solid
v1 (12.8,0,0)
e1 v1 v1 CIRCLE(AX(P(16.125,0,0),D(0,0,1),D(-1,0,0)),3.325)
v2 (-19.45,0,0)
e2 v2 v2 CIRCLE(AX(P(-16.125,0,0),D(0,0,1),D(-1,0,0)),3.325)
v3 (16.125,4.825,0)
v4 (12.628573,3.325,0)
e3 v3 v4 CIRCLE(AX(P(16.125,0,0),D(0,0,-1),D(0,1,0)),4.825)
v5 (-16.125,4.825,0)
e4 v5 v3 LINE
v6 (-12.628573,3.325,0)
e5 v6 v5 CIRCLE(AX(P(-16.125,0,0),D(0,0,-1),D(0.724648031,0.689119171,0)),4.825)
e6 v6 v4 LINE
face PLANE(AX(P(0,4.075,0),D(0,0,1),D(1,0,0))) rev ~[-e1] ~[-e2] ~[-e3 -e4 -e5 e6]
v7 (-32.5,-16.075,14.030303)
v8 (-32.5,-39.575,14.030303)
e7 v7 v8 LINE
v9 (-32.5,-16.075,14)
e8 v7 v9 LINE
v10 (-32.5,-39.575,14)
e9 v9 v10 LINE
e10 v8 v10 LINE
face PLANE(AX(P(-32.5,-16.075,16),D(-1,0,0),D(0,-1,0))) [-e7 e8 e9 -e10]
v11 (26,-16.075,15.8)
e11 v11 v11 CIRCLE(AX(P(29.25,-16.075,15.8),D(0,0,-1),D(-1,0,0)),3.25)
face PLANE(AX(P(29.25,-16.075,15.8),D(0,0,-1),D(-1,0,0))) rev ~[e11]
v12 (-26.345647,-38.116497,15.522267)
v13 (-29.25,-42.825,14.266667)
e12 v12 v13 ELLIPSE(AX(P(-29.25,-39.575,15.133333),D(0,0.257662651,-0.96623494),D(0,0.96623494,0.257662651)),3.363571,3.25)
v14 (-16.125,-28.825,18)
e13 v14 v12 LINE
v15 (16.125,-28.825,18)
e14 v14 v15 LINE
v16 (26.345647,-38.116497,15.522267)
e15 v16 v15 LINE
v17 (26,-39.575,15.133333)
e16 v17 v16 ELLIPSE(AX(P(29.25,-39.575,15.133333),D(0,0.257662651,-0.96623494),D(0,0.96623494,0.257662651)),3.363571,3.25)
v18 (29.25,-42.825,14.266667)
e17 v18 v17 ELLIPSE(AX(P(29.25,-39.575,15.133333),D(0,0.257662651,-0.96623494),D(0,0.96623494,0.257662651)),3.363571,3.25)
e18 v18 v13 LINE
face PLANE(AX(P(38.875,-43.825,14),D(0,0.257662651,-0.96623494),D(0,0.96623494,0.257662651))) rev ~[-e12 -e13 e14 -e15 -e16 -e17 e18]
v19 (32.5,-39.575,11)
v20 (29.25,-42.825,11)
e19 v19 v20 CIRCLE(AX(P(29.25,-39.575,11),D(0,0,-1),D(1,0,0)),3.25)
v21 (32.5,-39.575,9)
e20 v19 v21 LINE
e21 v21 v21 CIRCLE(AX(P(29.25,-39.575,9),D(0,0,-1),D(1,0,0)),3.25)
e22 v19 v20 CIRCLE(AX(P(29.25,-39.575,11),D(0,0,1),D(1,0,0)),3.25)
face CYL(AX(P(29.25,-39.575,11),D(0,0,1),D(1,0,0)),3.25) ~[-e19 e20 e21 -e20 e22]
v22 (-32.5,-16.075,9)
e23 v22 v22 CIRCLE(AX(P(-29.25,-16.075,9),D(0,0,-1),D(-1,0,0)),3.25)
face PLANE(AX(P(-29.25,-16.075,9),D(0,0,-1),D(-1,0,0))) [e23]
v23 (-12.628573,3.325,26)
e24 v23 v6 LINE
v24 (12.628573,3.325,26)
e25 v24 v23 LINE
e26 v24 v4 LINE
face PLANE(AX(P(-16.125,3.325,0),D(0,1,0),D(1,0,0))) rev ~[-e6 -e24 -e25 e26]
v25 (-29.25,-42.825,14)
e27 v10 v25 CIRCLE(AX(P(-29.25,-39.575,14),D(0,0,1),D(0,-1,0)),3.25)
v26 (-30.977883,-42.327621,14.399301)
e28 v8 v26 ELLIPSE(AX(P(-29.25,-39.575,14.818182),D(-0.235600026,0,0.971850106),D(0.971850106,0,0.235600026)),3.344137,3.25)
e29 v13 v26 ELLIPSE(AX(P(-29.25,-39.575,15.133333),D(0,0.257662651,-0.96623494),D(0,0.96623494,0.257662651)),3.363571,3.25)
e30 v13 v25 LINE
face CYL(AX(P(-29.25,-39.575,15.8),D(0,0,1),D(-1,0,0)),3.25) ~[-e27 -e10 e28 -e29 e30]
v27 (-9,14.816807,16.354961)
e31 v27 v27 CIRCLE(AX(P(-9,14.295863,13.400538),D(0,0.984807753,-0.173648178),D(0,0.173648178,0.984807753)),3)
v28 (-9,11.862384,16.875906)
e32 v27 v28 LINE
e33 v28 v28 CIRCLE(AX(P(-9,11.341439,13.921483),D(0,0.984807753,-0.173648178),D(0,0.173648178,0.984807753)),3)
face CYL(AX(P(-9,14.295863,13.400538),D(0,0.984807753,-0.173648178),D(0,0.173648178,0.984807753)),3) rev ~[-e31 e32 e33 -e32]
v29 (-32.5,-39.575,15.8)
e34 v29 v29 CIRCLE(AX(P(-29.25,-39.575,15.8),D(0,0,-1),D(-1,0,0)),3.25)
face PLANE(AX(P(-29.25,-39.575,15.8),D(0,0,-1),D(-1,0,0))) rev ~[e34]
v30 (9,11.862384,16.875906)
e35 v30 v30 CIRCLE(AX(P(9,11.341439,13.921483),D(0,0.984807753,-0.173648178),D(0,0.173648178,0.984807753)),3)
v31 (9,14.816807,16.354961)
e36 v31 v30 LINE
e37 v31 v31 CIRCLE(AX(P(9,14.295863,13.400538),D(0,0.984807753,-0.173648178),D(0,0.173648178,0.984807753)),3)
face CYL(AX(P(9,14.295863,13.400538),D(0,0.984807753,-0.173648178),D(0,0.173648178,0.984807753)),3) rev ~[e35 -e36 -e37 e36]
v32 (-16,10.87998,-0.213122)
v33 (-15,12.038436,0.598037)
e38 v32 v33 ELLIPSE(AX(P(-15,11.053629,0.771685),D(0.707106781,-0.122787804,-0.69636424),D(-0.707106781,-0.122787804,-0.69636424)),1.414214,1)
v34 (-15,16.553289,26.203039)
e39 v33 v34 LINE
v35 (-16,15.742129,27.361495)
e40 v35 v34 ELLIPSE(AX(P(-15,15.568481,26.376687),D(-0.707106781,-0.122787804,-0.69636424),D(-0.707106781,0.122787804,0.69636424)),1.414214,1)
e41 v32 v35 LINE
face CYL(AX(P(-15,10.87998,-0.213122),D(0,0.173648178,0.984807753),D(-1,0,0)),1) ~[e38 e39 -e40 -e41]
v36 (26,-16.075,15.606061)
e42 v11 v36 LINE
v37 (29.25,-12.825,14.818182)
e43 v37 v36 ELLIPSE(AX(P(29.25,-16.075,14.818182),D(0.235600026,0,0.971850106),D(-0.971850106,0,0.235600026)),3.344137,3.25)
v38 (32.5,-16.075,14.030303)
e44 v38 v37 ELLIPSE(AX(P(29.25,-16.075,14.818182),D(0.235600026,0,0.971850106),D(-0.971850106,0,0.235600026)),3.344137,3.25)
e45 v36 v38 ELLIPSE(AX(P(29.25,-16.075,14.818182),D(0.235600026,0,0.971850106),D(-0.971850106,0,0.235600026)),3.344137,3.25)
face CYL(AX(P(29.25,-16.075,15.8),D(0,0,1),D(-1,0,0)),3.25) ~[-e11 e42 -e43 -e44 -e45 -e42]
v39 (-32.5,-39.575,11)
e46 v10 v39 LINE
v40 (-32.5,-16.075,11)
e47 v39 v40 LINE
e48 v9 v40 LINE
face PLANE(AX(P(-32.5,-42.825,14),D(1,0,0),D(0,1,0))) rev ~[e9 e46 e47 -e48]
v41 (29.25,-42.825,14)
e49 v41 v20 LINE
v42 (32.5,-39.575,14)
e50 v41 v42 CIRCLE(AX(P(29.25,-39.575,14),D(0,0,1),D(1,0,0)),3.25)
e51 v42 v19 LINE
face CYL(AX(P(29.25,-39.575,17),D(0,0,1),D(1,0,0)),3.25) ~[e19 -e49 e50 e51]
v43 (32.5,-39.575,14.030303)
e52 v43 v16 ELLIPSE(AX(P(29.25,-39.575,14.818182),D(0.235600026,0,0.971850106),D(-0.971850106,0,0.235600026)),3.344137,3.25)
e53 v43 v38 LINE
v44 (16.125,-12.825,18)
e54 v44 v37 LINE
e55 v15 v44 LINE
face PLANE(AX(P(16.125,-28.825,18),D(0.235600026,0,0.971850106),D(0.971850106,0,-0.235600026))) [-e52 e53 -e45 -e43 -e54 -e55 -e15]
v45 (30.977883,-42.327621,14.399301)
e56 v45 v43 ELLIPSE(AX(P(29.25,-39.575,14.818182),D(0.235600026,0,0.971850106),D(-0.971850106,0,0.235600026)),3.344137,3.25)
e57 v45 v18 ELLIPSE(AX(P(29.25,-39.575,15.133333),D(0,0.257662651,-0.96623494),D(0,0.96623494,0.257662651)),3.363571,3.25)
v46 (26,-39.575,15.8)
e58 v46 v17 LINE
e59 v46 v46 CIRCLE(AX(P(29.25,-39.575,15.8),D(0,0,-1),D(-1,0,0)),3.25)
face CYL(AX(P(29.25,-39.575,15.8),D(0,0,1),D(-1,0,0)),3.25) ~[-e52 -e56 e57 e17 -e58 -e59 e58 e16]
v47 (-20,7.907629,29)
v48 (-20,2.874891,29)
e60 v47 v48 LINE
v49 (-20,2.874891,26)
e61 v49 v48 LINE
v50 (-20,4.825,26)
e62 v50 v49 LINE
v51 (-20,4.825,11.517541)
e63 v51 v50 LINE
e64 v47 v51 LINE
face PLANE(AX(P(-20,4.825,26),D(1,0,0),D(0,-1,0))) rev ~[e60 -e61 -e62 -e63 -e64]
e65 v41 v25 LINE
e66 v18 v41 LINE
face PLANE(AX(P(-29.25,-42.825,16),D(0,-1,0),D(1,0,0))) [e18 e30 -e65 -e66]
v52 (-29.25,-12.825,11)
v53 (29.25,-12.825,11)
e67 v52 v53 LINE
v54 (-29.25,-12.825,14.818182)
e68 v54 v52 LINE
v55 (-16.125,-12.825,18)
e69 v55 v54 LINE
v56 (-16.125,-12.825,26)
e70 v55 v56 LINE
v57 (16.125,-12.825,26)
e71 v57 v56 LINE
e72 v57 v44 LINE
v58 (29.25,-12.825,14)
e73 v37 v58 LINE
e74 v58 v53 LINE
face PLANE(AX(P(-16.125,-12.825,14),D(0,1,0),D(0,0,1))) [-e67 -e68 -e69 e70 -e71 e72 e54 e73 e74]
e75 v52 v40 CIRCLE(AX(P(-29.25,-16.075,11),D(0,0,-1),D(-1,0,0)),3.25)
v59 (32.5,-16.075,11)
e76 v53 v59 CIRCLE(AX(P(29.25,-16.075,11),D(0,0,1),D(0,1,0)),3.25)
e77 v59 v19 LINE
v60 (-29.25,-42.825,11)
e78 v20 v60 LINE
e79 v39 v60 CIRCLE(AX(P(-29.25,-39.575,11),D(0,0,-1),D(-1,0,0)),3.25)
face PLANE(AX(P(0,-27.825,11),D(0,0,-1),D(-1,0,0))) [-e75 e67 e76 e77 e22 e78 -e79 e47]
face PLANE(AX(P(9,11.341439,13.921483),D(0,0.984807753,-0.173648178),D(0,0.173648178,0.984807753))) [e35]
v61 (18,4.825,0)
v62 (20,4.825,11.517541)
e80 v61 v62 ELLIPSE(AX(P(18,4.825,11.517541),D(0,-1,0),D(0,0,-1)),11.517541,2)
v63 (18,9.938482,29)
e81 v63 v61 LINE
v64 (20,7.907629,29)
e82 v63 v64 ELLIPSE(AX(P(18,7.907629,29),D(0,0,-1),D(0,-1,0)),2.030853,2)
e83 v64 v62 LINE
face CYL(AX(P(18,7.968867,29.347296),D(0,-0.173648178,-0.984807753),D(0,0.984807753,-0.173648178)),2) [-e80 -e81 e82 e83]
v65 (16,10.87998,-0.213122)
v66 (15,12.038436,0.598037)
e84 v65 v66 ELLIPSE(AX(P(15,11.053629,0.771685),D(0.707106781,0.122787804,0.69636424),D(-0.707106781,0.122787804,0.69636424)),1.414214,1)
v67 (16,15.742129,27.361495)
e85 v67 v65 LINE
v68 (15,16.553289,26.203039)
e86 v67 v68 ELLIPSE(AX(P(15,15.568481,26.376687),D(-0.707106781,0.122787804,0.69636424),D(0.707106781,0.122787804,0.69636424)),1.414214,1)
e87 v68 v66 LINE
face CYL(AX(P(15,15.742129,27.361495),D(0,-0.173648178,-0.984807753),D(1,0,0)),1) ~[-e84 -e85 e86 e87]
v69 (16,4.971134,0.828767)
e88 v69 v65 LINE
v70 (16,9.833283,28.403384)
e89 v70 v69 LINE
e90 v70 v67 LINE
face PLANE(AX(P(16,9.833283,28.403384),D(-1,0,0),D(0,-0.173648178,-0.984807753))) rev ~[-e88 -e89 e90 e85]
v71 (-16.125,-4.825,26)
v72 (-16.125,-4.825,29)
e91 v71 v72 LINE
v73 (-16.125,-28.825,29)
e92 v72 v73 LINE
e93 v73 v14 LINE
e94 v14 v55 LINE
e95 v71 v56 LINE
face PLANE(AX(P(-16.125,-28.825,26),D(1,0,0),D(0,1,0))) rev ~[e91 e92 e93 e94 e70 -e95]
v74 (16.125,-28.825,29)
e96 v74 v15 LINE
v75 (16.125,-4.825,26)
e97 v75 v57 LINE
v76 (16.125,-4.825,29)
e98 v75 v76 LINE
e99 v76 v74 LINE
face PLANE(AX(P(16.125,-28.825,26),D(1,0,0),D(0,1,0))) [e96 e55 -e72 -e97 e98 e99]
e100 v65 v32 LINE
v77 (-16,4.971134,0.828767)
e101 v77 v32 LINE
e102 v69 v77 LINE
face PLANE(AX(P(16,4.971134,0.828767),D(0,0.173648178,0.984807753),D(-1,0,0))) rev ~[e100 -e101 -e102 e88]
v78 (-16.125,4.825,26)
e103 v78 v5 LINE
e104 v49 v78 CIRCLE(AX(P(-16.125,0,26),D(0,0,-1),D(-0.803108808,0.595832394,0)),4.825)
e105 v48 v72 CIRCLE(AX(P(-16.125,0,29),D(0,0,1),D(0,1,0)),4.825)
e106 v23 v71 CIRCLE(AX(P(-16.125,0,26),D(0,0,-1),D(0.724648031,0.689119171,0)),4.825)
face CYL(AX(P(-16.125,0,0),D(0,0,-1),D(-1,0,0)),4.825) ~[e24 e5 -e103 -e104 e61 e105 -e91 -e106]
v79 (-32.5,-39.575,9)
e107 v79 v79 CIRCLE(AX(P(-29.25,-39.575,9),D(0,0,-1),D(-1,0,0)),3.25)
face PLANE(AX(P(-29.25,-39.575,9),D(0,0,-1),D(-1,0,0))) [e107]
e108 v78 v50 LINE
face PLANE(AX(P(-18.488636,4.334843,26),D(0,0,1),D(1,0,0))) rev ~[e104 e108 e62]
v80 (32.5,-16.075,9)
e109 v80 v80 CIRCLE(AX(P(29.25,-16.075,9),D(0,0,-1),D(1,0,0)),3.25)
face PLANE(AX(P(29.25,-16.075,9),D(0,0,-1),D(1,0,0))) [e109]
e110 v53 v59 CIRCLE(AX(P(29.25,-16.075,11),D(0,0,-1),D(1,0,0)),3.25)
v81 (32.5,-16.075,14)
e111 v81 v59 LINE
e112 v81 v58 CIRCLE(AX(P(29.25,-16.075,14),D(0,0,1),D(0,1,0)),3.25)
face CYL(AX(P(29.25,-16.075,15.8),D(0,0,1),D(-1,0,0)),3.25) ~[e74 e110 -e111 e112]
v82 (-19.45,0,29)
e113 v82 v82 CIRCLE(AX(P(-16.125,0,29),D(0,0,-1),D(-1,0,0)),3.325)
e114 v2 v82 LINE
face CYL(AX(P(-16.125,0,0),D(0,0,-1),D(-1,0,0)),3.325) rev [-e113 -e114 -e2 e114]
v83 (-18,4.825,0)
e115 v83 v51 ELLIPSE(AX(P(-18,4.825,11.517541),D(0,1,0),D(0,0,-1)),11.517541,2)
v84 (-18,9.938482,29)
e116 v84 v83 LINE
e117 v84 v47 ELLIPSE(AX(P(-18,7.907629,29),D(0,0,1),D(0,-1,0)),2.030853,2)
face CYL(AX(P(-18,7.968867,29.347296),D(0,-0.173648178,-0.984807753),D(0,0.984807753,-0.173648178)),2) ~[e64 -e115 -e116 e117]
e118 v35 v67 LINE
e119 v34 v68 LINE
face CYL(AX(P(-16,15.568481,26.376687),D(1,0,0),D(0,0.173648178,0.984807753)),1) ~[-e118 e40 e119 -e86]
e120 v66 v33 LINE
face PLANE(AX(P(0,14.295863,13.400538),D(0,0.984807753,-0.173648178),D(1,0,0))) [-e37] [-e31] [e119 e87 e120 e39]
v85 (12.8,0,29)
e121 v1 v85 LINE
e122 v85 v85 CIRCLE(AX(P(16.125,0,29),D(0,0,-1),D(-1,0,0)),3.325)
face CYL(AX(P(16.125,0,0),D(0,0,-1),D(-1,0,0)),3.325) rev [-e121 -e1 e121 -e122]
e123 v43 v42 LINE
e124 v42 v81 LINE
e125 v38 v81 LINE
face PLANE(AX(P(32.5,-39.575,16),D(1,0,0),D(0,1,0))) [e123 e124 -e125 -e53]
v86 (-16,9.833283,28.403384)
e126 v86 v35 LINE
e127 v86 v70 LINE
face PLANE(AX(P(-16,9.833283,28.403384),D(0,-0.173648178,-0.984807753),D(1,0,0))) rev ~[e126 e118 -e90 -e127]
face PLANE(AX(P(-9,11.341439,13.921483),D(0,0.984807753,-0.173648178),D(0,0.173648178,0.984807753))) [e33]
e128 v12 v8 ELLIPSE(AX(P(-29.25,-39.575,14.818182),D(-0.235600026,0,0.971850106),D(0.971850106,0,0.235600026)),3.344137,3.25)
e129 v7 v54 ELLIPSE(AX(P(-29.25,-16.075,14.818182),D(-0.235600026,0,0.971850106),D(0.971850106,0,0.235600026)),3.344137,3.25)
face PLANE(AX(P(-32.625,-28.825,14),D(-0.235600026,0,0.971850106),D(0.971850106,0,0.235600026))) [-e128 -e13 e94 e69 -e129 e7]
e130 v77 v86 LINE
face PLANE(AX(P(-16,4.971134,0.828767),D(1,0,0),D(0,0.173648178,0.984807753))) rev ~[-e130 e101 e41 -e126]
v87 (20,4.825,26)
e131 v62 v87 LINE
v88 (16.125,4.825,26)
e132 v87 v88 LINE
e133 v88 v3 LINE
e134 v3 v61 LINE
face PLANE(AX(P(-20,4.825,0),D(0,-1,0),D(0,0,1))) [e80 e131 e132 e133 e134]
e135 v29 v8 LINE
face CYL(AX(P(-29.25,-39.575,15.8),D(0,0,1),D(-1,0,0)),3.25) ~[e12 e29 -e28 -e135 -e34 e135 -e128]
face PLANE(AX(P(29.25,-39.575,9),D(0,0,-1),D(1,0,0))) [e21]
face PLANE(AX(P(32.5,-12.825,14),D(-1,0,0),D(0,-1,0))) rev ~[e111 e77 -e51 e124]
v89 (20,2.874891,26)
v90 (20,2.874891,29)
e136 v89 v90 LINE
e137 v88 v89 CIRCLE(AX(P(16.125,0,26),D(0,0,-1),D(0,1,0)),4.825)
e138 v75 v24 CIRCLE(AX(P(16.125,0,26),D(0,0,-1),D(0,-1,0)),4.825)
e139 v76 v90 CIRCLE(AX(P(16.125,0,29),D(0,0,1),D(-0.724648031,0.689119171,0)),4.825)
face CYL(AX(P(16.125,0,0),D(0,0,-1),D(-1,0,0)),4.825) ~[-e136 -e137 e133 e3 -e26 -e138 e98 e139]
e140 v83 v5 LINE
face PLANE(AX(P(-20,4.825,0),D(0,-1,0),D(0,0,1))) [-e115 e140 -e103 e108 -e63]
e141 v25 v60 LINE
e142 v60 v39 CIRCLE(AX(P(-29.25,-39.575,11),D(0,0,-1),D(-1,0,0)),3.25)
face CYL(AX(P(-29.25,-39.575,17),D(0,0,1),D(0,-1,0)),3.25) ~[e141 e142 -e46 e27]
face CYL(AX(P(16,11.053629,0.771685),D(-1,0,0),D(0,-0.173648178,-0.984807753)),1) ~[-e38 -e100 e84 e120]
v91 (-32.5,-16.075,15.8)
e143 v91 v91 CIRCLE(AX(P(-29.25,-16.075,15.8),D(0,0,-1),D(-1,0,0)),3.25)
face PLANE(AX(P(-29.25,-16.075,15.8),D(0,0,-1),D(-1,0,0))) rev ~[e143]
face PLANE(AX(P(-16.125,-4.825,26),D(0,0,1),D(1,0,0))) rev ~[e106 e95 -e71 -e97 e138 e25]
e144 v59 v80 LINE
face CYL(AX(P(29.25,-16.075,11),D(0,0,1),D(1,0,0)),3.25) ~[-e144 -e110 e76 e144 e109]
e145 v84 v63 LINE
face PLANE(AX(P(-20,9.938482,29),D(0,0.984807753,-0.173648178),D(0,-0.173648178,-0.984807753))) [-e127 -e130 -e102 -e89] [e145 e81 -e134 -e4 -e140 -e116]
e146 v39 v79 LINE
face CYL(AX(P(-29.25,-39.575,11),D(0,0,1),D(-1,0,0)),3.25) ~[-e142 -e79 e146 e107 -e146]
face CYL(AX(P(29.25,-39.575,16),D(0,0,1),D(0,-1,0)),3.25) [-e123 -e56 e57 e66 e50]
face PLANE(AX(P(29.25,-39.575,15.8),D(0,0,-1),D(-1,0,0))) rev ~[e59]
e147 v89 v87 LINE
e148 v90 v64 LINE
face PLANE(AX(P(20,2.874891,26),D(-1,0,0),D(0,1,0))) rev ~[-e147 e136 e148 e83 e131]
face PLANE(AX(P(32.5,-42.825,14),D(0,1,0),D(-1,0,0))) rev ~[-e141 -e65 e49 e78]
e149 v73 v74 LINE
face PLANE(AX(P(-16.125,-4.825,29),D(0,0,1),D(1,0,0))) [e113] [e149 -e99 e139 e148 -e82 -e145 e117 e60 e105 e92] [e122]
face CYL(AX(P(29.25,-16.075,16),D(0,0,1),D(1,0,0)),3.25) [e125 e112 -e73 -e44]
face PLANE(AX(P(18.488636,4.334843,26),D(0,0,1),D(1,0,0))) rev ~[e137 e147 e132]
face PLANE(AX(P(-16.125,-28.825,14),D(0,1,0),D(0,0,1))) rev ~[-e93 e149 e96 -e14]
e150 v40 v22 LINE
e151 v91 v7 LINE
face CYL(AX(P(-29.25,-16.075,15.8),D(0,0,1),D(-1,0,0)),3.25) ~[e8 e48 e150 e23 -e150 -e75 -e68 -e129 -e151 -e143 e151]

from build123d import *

# Parameters (mm, degrees)
SKETCH_1_R               = 4.824999999999997
SKETCH_1_R_2             = 3.3250000000000033
EXTRUDE_1_DEPTH          = 29
SKETCH_1_R_3             = 4.825
SKETCH_1_R_4             = 3.3249999999999997
EXTRUDE_1_2_DEPTH        = 29
EXTRUDE_2_DEPTH          = 20
EXTRUDE_2_DEPTH_BACK     = 20
FILLET_2_R               = 2
EXTRUDE_11_DEPTH         = 29
EXTRUDE_13_DEPTH         = 7
FILLET_3_R               = 1
SKETCH_11_R              = 3.0000000000000013
SKETCH_11_R_2            = 2.999999999999999
CUT_EXTRUDE_1_DEPTH      = 3
EXTRUDE_START            = -3
EXTRUDE_14_DEPTH         = 3
SKETCH_13_W              = 32.25
SKETCH_13_H              = 3
EXTRUDE_15_DEPTH         = 24
SKETCH_14_W              = 32.25
SKETCH_14_H              = 16
EXTRUDE_16_DEPTH         = 12
EXTRUDE_17_DEPTH         = 3
SKETCH_16_R              = 3.250000000000001
SKETCH_16_R_2            = 3.2500000000000013
SKETCH_16_R_3            = 3.2499999999999982
EXTRUDE_18_DEPTH         = 2
CUT_EXTRUDE_START        = -6
SKETCH_17_W              = 68.56383691944288
SKETCH_17_H              = 32.56782253673537
CUT_EXTRUDE_2_DEPTH      = 6
SKETCH_18_W              = 4.000000000000002
SKETCH_18_H              = 16
EXTRUDE_19_DEPTH         = 16.5
SKETCH_19_W              = 4.000000000000002
SKETCH_19_H              = 16.000000000000007
EXTRUDE_20_DEPTH         = 16.5
CUT_EXTRUDE_4_DEPTH      = 17
EXTRUDE_21_DEPTH         = 15
CUT_EXTRUDE_5_DEPTH      = 25
CUT_EXTRUDE_5_DEPTH_BACK = 55.00000000000001
CUT_EXTRUDE_START_2      = -5
SKETCH_23_W              = 70.20398187811678
SKETCH_23_H              = 36.48154516810434
CUT_EXTRUDE_6_DEPTH      = 5
EXTRUDE_START_2          = -4.8
SKETCH_16_2_R            = 3.250000000000001
SKETCH_16_2_R_2          = 3.2500000000000013
SKETCH_16_2_R_3          = 3.2499999999999982
EXTRUDE_22_DEPTH         = 4.8


with BuildPart() as part:
    # Эскиз1 → Бобышка-Вытянуть1 (new body)
    with BuildSketch(Plane.XY):
        with Locations((16.125, 0)):
            Circle(SKETCH_1_R)
        with Locations((16.125, 0)):
            Circle(SKETCH_1_R_2, mode=Mode.SUBTRACT)
    extrude(amount=EXTRUDE_1_DEPTH)



with BuildPart() as body_2:
    # Эскиз1 → Extrude 1 2 (new body)
    with BuildSketch(Plane.XY):
        with Locations((-16.125, 0)):
            Circle(SKETCH_1_R_3)
        with Locations((-16.125, 0)):
            Circle(SKETCH_1_R_4, mode=Mode.SUBTRACT)
    extrude(amount=EXTRUDE_1_2_DEPTH)


with BuildPart() as body_3:
    # Эскиз4 → Бобышка-Вытянуть2 (new, two sides: drawn at the far end of the back side and taken through both)
    with BuildSketch(Plane(origin=(0, 0, 0), x_dir=(0, 0, -1), z_dir=(1, 0, 0)).offset(-EXTRUDE_2_DEPTH_BACK)):
        Polygon((-29, 4.824999999999997), (-29, 9.938482440545272), (-1.388e-14, 4.824999999999997), align=None)
    extrude(amount=EXTRUDE_2_DEPTH + EXTRUDE_2_DEPTH_BACK)

    # Скругление2
    fillet_2_edges = [body_3.edges().sort_by_distance(p)[0] for p in [
        (20, 7.381741220272634, 14.500000000000007),
        (-20, 7.381741220272634, 14.500000000000007),
    ]]
    fillet(fillet_2_edges, radius=FILLET_2_R)


with BuildPart() as part_1:
    add(part.part)

    add(body_2.part)  # Бобышка-Вытянуть11 merges body 2

    add(body_3.part)  # Бобышка-Вытянуть11 merges body 3
    # Эскиз10 → Бобышка-Вытянуть11 (add)
    with BuildSketch(Plane(origin=(0, 0, 0), x_dir=(-1, 0, 0), z_dir=(0, 0, -1))):
        Polygon((-16.125, 4.8249999999999975), (16.125, 4.824999999999997), (16.125, 3.3249999999999975), (-16.125, 3.3249999999999975), align=None)
    extrude(amount=-EXTRUDE_11_DEPTH)

    # Эскиз6 → Бобышка-Вытянуть13 (add)
    with BuildSketch(Plane(origin=(0, 4.6795084476460085, -0.8251235957731434), x_dir=(1, 0, 0), z_dir=(0, 0.9848077530122092, -0.17364817766692356))):
        Polygon((-16, -1.6794043064520388), (-16, -29.67940430645204), (16, -29.679404306452035), (16, -1.6794043064520352), align=None)
    extrude(amount=EXTRUDE_13_DEPTH)

    # Скругление3
    fillet_3_edges = [part_1.edges().sort_by_distance(p)[0] for p in [
        (0, 16.726937190786714, 27.18784662633631),
        (16, 14.295862703449783, 13.400538084165378),
        (0, 11.864788216112855, -0.38677045800554954),
        (-16, 14.295862703449785, 13.400538084165381),
    ]]
    fillet(fillet_3_edges, radius=FILLET_3_R)

    # Эскиз11 → Вырез-Вытянуть1 (cut)
    with BuildSketch(Plane(origin=(0, 11.57316271873147, -2.0406608394416086), x_dir=(1, 0, 0), z_dir=(0, 0.9848077530122092, -0.1736481776669236))):
        with Locations((-9.000000000000005, -15.679404306452042)):
            Circle(SKETCH_11_R)
        with Locations((8.999999999999998, -15.679404306452039)):
            Circle(SKETCH_11_R_2)
    extrude(amount=-CUT_EXTRUDE_1_DEPTH, mode=Mode.SUBTRACT)

    # Эскиз12 → Бобышка-Вытянуть14 (add)
    with BuildSketch(Plane.XY.offset(29).offset(EXTRUDE_START)):
        with BuildLine():
            Line((-16.125000000000018, 4.824999999999999), (-20, 4.824999999999997))
            Line((-20, 4.824999999999997), (-20, 2.874891302293008))
            ThreePointArc((-20, 2.874891302293009), (-18.29401757328477, 4.309986979885419), (-16.125000000000018, 4.824999999999999))
        make_face()
        with BuildLine():
            ThreePointArc((16.125000000000004, 4.824999999999996), (18.294017573284762, 4.30998697988542), (20, 2.8748913022930056))
            Line((20, 2.874891302293005), (20, 4.824999999999997))
            Line((20, 4.824999999999997), (16.125000000000004, 4.824999999999997))
        make_face()
        with BuildLine():
            ThreePointArc((-12.62857325259058, 3.3249999999999975), (-11.690828713276888, -1.9023012379746749), (-16.125000000000014, -4.824999999999999))
            Line((-16.125, -4.824999999999998), (16.125, -4.824999999999997))
            ThreePointArc((16.125000000000004, -4.824999999999996), (11.690828713276861, -1.9023012379746778), (12.628573252590584, 3.3249999999999975))
            Line((12.628573252590584, 3.3249999999999975), (-12.62857325259058, 3.3249999999999975))
        make_face()
    extrude(amount=EXTRUDE_14_DEPTH)

    # Эскиз13 → Бобышка-Вытянуть15 (add)
    with BuildSketch(Plane.XZ.offset(4.8249999999999975)):
        with Locations((0, 27.500000000000004)):
            Rectangle(SKETCH_13_W, SKETCH_13_H)
    extrude(amount=EXTRUDE_15_DEPTH)



with BuildPart() as body_2_2:
    # Эскиз14 → Бобышка-Вытянуть16 (new body)
    with BuildSketch(Plane(origin=(0, 0, 26.000000000000004), x_dir=(-1, 0, 0), z_dir=(0, 0, -1))):
        with Locations((0, -20.824999999999996)):
            Rectangle(SKETCH_14_W, SKETCH_14_H)
    extrude(amount=EXTRUDE_16_DEPTH)


with BuildPart() as part_2:
    add(part_1.part)

    add(body_2_2.part)  # Бобышка-Вытянуть17 merges body 2 2
    # Эскиз15 → Бобышка-Вытянуть17 (add)
    with BuildSketch(Plane(origin=(0, 0, 14.000000000000002), x_dir=(-1, 0, 0), z_dir=(0, 0, -1))):
        Polygon((-32.5, -42.82499999999999), (32.5, -42.82499999999999), (32.5, -12.824999999999992), (-32.5, -12.824999999999982), align=None)
    extrude(amount=EXTRUDE_17_DEPTH)

    # Эскиз16 → Бобышка-Вытянуть18 (add)
    with BuildSketch(Plane(origin=(0, 0, 11.000000000000004), x_dir=(-1, 0, 0), z_dir=(0, 0, -1))):
        with Locations((29.25, -16.074999999999992)):
            Circle(SKETCH_16_R)
        with Locations((-29.250000000000004, -16.0750000000004)):
            Circle(SKETCH_16_R_2)
        with Locations((29.250000000000245, -39.57499999999999)):
            Circle(SKETCH_16_R_3)
        with Locations((-29.24999999999976, -39.5750000000004)):
            Circle(SKETCH_16_R_3)
    extrude(amount=EXTRUDE_18_DEPTH)

    # Эскиз17 → Вырез-Вытянуть2 (cut)
    with BuildSketch(Plane(origin=(0, 0, 11.000000000000004), x_dir=(-1, 0, 0), z_dir=(0, 0, -1)).offset(CUT_EXTRUDE_START)):
        with Locations((-0.2272214266866719, -27.98398422513318)):
            Rectangle(SKETCH_17_W, SKETCH_17_H)
        with BuildLine():
            Line((-32.50000000000001, -16.0750000000004), (-32.49999999999967, -39.57500000000042))
            ThreePointArc((-32.49999999999967, -39.57500000000042), (-31.548097038855932, -41.87309703885639), (-29.24999999999976, -42.82500000000041))
            Line((-29.24999999999976, -42.82500000000041), (29.250000000000245, -42.82499999999999))
            ThreePointArc((29.250000000000245, -42.82499999999999), (31.548097038856366, -41.87309703885618), (32.5, -39.57499999999999))
            Line((32.5, -39.57499999999999), (32.5, -16.074999999999992))
            ThreePointArc((32.5, -16.074999999999992), (31.54809703885628, -13.776902961143712), (29.25, -12.824999999999989))
            Line((29.25, -12.824999999999989), (-29.250000000000004, -12.825000000000399))
            ThreePointArc((-29.250000000000004, -12.825000000000399), (-31.548097038856284, -13.776902961144119), (-32.50000000000001, -16.0750000000004))
        make_face(mode=Mode.SUBTRACT)
    extrude(amount=CUT_EXTRUDE_2_DEPTH, mode=Mode.SUBTRACT)

    # Эскиз18 → Бобышка-Вытянуть19 (add)
    with BuildSketch(Plane(origin=(16.125, 8.7e-16, 0), x_dir=(0, 0, -1), z_dir=(1, 5e-17, 0))):
        with Locations((-16.000000000000004, -20.824999999999996)):
            Rectangle(SKETCH_18_W, SKETCH_18_H)
    extrude(amount=EXTRUDE_19_DEPTH)

    # Эскиз19 → Бобышка-Вытянуть20 (add)
    with BuildSketch(Plane.ZY.offset(16.125)):
        with Locations((16.000000000000004, -20.824999999999992)):
            Rectangle(SKETCH_19_W, SKETCH_19_H)
    extrude(amount=EXTRUDE_20_DEPTH)

    # Эскиз20 → Вырез-Вытянуть4 (cut)
    with BuildSketch(Plane.XZ.offset(28.824999999999996)):
        Polygon((-16.125, 18.000000000000004), (-32.625, 18.000000000000004), (-32.625, 14.000000000000002), align=None)
        Polygon((16.125, 18.000000000000004), (32.625, 18.000000000000004), (32.625, 14.000000000000002), align=None)
    extrude(amount=-CUT_EXTRUDE_4_DEPTH, mode=Mode.SUBTRACT)

    # Эскиз21 → Бобышка-Вытянуть21 (add)
    with BuildSketch(Plane.XZ.offset(28.824999999999996)):
        Polygon((-32.625, 14.000000000000002), (-16.125, 18.000000000000004), (16.125, 18.000000000000004), (32.625, 14.000000000000002), align=None)
    extrude(amount=EXTRUDE_21_DEPTH)

    # Эскиз22 → Вырез-Вытянуть5 (cut, two sides: drawn at the far end of the back side and taken through both)
    with BuildSketch(Plane.ZY.offset(16.125).offset(-CUT_EXTRUDE_5_DEPTH_BACK)):
        Polygon((18.000000000000004, -28.824999999999996), (18.000000000000004, -43.824999999999996), (14.000000000000002, -43.825), align=None)
    extrude(amount=CUT_EXTRUDE_5_DEPTH + CUT_EXTRUDE_5_DEPTH_BACK, mode=Mode.SUBTRACT)

    # Эскиз23 → Вырез-Вытянуть6 (cut)
    with BuildSketch(Plane(origin=(0, 0, 11.000000000000004), x_dir=(-1, 0, 0), z_dir=(0, 0, -1)).offset(CUT_EXTRUDE_START_2)):
        with Locations((-0.29473783212394267, -28.29954927053208)):
            Rectangle(SKETCH_23_W, SKETCH_23_H)
        with BuildLine():
            Line((-29.250000000000004, -12.825000000000399), (29.25, -12.824999999999989))
            ThreePointArc((29.25, -12.824999999999989), (31.548097038856287, -13.776902961143705), (32.5, -16.074999999999992))
            Line((32.5, -16.074999999999992), (32.50000000000024, -39.57499999999999))
            ThreePointArc((32.50000000000024, -39.57499999999999), (31.548097038856532, -41.87309703885627), (29.25000000000025, -42.82499999999999))
            Line((29.25000000000025, -42.82499999999999), (-29.24999999999976, -42.82500000000041))
            ThreePointArc((-29.24999999999976, -42.82500000000041), (-31.54809703885605, -41.87309703885669), (-32.49999999999976, -39.5750000000004))
            Line((-32.49999999999976, -39.5750000000004), (-32.50000000000001, -16.0750000000004))
            ThreePointArc((-32.50000000000001, -16.0750000000004), (-31.548097038856298, -13.776902961144108), (-29.250000000000004, -12.825000000000399))
        make_face(mode=Mode.SUBTRACT)
    extrude(amount=CUT_EXTRUDE_6_DEPTH, mode=Mode.SUBTRACT)

    # Эскиз16<2> → Бобышка-Вытянуть22 (add)
    with BuildSketch(Plane(origin=(0, 0, 11.000000000000004), x_dir=(-1, 0, 0), z_dir=(0, 0, -1)).offset(EXTRUDE_START_2)):
        with Locations((29.25, -16.074999999999992)):
            Circle(SKETCH_16_2_R)
        with Locations((-29.250000000000004, -16.0750000000004)):
            Circle(SKETCH_16_2_R_2)
        with Locations((29.250000000000245, -39.57499999999999)):
            Circle(SKETCH_16_2_R_3)
        with Locations((-29.24999999999976, -39.5750000000004)):
            Circle(SKETCH_16_2_R_3)
    extrude(amount=EXTRUDE_22_DEPTH)


solid = part_2.part
